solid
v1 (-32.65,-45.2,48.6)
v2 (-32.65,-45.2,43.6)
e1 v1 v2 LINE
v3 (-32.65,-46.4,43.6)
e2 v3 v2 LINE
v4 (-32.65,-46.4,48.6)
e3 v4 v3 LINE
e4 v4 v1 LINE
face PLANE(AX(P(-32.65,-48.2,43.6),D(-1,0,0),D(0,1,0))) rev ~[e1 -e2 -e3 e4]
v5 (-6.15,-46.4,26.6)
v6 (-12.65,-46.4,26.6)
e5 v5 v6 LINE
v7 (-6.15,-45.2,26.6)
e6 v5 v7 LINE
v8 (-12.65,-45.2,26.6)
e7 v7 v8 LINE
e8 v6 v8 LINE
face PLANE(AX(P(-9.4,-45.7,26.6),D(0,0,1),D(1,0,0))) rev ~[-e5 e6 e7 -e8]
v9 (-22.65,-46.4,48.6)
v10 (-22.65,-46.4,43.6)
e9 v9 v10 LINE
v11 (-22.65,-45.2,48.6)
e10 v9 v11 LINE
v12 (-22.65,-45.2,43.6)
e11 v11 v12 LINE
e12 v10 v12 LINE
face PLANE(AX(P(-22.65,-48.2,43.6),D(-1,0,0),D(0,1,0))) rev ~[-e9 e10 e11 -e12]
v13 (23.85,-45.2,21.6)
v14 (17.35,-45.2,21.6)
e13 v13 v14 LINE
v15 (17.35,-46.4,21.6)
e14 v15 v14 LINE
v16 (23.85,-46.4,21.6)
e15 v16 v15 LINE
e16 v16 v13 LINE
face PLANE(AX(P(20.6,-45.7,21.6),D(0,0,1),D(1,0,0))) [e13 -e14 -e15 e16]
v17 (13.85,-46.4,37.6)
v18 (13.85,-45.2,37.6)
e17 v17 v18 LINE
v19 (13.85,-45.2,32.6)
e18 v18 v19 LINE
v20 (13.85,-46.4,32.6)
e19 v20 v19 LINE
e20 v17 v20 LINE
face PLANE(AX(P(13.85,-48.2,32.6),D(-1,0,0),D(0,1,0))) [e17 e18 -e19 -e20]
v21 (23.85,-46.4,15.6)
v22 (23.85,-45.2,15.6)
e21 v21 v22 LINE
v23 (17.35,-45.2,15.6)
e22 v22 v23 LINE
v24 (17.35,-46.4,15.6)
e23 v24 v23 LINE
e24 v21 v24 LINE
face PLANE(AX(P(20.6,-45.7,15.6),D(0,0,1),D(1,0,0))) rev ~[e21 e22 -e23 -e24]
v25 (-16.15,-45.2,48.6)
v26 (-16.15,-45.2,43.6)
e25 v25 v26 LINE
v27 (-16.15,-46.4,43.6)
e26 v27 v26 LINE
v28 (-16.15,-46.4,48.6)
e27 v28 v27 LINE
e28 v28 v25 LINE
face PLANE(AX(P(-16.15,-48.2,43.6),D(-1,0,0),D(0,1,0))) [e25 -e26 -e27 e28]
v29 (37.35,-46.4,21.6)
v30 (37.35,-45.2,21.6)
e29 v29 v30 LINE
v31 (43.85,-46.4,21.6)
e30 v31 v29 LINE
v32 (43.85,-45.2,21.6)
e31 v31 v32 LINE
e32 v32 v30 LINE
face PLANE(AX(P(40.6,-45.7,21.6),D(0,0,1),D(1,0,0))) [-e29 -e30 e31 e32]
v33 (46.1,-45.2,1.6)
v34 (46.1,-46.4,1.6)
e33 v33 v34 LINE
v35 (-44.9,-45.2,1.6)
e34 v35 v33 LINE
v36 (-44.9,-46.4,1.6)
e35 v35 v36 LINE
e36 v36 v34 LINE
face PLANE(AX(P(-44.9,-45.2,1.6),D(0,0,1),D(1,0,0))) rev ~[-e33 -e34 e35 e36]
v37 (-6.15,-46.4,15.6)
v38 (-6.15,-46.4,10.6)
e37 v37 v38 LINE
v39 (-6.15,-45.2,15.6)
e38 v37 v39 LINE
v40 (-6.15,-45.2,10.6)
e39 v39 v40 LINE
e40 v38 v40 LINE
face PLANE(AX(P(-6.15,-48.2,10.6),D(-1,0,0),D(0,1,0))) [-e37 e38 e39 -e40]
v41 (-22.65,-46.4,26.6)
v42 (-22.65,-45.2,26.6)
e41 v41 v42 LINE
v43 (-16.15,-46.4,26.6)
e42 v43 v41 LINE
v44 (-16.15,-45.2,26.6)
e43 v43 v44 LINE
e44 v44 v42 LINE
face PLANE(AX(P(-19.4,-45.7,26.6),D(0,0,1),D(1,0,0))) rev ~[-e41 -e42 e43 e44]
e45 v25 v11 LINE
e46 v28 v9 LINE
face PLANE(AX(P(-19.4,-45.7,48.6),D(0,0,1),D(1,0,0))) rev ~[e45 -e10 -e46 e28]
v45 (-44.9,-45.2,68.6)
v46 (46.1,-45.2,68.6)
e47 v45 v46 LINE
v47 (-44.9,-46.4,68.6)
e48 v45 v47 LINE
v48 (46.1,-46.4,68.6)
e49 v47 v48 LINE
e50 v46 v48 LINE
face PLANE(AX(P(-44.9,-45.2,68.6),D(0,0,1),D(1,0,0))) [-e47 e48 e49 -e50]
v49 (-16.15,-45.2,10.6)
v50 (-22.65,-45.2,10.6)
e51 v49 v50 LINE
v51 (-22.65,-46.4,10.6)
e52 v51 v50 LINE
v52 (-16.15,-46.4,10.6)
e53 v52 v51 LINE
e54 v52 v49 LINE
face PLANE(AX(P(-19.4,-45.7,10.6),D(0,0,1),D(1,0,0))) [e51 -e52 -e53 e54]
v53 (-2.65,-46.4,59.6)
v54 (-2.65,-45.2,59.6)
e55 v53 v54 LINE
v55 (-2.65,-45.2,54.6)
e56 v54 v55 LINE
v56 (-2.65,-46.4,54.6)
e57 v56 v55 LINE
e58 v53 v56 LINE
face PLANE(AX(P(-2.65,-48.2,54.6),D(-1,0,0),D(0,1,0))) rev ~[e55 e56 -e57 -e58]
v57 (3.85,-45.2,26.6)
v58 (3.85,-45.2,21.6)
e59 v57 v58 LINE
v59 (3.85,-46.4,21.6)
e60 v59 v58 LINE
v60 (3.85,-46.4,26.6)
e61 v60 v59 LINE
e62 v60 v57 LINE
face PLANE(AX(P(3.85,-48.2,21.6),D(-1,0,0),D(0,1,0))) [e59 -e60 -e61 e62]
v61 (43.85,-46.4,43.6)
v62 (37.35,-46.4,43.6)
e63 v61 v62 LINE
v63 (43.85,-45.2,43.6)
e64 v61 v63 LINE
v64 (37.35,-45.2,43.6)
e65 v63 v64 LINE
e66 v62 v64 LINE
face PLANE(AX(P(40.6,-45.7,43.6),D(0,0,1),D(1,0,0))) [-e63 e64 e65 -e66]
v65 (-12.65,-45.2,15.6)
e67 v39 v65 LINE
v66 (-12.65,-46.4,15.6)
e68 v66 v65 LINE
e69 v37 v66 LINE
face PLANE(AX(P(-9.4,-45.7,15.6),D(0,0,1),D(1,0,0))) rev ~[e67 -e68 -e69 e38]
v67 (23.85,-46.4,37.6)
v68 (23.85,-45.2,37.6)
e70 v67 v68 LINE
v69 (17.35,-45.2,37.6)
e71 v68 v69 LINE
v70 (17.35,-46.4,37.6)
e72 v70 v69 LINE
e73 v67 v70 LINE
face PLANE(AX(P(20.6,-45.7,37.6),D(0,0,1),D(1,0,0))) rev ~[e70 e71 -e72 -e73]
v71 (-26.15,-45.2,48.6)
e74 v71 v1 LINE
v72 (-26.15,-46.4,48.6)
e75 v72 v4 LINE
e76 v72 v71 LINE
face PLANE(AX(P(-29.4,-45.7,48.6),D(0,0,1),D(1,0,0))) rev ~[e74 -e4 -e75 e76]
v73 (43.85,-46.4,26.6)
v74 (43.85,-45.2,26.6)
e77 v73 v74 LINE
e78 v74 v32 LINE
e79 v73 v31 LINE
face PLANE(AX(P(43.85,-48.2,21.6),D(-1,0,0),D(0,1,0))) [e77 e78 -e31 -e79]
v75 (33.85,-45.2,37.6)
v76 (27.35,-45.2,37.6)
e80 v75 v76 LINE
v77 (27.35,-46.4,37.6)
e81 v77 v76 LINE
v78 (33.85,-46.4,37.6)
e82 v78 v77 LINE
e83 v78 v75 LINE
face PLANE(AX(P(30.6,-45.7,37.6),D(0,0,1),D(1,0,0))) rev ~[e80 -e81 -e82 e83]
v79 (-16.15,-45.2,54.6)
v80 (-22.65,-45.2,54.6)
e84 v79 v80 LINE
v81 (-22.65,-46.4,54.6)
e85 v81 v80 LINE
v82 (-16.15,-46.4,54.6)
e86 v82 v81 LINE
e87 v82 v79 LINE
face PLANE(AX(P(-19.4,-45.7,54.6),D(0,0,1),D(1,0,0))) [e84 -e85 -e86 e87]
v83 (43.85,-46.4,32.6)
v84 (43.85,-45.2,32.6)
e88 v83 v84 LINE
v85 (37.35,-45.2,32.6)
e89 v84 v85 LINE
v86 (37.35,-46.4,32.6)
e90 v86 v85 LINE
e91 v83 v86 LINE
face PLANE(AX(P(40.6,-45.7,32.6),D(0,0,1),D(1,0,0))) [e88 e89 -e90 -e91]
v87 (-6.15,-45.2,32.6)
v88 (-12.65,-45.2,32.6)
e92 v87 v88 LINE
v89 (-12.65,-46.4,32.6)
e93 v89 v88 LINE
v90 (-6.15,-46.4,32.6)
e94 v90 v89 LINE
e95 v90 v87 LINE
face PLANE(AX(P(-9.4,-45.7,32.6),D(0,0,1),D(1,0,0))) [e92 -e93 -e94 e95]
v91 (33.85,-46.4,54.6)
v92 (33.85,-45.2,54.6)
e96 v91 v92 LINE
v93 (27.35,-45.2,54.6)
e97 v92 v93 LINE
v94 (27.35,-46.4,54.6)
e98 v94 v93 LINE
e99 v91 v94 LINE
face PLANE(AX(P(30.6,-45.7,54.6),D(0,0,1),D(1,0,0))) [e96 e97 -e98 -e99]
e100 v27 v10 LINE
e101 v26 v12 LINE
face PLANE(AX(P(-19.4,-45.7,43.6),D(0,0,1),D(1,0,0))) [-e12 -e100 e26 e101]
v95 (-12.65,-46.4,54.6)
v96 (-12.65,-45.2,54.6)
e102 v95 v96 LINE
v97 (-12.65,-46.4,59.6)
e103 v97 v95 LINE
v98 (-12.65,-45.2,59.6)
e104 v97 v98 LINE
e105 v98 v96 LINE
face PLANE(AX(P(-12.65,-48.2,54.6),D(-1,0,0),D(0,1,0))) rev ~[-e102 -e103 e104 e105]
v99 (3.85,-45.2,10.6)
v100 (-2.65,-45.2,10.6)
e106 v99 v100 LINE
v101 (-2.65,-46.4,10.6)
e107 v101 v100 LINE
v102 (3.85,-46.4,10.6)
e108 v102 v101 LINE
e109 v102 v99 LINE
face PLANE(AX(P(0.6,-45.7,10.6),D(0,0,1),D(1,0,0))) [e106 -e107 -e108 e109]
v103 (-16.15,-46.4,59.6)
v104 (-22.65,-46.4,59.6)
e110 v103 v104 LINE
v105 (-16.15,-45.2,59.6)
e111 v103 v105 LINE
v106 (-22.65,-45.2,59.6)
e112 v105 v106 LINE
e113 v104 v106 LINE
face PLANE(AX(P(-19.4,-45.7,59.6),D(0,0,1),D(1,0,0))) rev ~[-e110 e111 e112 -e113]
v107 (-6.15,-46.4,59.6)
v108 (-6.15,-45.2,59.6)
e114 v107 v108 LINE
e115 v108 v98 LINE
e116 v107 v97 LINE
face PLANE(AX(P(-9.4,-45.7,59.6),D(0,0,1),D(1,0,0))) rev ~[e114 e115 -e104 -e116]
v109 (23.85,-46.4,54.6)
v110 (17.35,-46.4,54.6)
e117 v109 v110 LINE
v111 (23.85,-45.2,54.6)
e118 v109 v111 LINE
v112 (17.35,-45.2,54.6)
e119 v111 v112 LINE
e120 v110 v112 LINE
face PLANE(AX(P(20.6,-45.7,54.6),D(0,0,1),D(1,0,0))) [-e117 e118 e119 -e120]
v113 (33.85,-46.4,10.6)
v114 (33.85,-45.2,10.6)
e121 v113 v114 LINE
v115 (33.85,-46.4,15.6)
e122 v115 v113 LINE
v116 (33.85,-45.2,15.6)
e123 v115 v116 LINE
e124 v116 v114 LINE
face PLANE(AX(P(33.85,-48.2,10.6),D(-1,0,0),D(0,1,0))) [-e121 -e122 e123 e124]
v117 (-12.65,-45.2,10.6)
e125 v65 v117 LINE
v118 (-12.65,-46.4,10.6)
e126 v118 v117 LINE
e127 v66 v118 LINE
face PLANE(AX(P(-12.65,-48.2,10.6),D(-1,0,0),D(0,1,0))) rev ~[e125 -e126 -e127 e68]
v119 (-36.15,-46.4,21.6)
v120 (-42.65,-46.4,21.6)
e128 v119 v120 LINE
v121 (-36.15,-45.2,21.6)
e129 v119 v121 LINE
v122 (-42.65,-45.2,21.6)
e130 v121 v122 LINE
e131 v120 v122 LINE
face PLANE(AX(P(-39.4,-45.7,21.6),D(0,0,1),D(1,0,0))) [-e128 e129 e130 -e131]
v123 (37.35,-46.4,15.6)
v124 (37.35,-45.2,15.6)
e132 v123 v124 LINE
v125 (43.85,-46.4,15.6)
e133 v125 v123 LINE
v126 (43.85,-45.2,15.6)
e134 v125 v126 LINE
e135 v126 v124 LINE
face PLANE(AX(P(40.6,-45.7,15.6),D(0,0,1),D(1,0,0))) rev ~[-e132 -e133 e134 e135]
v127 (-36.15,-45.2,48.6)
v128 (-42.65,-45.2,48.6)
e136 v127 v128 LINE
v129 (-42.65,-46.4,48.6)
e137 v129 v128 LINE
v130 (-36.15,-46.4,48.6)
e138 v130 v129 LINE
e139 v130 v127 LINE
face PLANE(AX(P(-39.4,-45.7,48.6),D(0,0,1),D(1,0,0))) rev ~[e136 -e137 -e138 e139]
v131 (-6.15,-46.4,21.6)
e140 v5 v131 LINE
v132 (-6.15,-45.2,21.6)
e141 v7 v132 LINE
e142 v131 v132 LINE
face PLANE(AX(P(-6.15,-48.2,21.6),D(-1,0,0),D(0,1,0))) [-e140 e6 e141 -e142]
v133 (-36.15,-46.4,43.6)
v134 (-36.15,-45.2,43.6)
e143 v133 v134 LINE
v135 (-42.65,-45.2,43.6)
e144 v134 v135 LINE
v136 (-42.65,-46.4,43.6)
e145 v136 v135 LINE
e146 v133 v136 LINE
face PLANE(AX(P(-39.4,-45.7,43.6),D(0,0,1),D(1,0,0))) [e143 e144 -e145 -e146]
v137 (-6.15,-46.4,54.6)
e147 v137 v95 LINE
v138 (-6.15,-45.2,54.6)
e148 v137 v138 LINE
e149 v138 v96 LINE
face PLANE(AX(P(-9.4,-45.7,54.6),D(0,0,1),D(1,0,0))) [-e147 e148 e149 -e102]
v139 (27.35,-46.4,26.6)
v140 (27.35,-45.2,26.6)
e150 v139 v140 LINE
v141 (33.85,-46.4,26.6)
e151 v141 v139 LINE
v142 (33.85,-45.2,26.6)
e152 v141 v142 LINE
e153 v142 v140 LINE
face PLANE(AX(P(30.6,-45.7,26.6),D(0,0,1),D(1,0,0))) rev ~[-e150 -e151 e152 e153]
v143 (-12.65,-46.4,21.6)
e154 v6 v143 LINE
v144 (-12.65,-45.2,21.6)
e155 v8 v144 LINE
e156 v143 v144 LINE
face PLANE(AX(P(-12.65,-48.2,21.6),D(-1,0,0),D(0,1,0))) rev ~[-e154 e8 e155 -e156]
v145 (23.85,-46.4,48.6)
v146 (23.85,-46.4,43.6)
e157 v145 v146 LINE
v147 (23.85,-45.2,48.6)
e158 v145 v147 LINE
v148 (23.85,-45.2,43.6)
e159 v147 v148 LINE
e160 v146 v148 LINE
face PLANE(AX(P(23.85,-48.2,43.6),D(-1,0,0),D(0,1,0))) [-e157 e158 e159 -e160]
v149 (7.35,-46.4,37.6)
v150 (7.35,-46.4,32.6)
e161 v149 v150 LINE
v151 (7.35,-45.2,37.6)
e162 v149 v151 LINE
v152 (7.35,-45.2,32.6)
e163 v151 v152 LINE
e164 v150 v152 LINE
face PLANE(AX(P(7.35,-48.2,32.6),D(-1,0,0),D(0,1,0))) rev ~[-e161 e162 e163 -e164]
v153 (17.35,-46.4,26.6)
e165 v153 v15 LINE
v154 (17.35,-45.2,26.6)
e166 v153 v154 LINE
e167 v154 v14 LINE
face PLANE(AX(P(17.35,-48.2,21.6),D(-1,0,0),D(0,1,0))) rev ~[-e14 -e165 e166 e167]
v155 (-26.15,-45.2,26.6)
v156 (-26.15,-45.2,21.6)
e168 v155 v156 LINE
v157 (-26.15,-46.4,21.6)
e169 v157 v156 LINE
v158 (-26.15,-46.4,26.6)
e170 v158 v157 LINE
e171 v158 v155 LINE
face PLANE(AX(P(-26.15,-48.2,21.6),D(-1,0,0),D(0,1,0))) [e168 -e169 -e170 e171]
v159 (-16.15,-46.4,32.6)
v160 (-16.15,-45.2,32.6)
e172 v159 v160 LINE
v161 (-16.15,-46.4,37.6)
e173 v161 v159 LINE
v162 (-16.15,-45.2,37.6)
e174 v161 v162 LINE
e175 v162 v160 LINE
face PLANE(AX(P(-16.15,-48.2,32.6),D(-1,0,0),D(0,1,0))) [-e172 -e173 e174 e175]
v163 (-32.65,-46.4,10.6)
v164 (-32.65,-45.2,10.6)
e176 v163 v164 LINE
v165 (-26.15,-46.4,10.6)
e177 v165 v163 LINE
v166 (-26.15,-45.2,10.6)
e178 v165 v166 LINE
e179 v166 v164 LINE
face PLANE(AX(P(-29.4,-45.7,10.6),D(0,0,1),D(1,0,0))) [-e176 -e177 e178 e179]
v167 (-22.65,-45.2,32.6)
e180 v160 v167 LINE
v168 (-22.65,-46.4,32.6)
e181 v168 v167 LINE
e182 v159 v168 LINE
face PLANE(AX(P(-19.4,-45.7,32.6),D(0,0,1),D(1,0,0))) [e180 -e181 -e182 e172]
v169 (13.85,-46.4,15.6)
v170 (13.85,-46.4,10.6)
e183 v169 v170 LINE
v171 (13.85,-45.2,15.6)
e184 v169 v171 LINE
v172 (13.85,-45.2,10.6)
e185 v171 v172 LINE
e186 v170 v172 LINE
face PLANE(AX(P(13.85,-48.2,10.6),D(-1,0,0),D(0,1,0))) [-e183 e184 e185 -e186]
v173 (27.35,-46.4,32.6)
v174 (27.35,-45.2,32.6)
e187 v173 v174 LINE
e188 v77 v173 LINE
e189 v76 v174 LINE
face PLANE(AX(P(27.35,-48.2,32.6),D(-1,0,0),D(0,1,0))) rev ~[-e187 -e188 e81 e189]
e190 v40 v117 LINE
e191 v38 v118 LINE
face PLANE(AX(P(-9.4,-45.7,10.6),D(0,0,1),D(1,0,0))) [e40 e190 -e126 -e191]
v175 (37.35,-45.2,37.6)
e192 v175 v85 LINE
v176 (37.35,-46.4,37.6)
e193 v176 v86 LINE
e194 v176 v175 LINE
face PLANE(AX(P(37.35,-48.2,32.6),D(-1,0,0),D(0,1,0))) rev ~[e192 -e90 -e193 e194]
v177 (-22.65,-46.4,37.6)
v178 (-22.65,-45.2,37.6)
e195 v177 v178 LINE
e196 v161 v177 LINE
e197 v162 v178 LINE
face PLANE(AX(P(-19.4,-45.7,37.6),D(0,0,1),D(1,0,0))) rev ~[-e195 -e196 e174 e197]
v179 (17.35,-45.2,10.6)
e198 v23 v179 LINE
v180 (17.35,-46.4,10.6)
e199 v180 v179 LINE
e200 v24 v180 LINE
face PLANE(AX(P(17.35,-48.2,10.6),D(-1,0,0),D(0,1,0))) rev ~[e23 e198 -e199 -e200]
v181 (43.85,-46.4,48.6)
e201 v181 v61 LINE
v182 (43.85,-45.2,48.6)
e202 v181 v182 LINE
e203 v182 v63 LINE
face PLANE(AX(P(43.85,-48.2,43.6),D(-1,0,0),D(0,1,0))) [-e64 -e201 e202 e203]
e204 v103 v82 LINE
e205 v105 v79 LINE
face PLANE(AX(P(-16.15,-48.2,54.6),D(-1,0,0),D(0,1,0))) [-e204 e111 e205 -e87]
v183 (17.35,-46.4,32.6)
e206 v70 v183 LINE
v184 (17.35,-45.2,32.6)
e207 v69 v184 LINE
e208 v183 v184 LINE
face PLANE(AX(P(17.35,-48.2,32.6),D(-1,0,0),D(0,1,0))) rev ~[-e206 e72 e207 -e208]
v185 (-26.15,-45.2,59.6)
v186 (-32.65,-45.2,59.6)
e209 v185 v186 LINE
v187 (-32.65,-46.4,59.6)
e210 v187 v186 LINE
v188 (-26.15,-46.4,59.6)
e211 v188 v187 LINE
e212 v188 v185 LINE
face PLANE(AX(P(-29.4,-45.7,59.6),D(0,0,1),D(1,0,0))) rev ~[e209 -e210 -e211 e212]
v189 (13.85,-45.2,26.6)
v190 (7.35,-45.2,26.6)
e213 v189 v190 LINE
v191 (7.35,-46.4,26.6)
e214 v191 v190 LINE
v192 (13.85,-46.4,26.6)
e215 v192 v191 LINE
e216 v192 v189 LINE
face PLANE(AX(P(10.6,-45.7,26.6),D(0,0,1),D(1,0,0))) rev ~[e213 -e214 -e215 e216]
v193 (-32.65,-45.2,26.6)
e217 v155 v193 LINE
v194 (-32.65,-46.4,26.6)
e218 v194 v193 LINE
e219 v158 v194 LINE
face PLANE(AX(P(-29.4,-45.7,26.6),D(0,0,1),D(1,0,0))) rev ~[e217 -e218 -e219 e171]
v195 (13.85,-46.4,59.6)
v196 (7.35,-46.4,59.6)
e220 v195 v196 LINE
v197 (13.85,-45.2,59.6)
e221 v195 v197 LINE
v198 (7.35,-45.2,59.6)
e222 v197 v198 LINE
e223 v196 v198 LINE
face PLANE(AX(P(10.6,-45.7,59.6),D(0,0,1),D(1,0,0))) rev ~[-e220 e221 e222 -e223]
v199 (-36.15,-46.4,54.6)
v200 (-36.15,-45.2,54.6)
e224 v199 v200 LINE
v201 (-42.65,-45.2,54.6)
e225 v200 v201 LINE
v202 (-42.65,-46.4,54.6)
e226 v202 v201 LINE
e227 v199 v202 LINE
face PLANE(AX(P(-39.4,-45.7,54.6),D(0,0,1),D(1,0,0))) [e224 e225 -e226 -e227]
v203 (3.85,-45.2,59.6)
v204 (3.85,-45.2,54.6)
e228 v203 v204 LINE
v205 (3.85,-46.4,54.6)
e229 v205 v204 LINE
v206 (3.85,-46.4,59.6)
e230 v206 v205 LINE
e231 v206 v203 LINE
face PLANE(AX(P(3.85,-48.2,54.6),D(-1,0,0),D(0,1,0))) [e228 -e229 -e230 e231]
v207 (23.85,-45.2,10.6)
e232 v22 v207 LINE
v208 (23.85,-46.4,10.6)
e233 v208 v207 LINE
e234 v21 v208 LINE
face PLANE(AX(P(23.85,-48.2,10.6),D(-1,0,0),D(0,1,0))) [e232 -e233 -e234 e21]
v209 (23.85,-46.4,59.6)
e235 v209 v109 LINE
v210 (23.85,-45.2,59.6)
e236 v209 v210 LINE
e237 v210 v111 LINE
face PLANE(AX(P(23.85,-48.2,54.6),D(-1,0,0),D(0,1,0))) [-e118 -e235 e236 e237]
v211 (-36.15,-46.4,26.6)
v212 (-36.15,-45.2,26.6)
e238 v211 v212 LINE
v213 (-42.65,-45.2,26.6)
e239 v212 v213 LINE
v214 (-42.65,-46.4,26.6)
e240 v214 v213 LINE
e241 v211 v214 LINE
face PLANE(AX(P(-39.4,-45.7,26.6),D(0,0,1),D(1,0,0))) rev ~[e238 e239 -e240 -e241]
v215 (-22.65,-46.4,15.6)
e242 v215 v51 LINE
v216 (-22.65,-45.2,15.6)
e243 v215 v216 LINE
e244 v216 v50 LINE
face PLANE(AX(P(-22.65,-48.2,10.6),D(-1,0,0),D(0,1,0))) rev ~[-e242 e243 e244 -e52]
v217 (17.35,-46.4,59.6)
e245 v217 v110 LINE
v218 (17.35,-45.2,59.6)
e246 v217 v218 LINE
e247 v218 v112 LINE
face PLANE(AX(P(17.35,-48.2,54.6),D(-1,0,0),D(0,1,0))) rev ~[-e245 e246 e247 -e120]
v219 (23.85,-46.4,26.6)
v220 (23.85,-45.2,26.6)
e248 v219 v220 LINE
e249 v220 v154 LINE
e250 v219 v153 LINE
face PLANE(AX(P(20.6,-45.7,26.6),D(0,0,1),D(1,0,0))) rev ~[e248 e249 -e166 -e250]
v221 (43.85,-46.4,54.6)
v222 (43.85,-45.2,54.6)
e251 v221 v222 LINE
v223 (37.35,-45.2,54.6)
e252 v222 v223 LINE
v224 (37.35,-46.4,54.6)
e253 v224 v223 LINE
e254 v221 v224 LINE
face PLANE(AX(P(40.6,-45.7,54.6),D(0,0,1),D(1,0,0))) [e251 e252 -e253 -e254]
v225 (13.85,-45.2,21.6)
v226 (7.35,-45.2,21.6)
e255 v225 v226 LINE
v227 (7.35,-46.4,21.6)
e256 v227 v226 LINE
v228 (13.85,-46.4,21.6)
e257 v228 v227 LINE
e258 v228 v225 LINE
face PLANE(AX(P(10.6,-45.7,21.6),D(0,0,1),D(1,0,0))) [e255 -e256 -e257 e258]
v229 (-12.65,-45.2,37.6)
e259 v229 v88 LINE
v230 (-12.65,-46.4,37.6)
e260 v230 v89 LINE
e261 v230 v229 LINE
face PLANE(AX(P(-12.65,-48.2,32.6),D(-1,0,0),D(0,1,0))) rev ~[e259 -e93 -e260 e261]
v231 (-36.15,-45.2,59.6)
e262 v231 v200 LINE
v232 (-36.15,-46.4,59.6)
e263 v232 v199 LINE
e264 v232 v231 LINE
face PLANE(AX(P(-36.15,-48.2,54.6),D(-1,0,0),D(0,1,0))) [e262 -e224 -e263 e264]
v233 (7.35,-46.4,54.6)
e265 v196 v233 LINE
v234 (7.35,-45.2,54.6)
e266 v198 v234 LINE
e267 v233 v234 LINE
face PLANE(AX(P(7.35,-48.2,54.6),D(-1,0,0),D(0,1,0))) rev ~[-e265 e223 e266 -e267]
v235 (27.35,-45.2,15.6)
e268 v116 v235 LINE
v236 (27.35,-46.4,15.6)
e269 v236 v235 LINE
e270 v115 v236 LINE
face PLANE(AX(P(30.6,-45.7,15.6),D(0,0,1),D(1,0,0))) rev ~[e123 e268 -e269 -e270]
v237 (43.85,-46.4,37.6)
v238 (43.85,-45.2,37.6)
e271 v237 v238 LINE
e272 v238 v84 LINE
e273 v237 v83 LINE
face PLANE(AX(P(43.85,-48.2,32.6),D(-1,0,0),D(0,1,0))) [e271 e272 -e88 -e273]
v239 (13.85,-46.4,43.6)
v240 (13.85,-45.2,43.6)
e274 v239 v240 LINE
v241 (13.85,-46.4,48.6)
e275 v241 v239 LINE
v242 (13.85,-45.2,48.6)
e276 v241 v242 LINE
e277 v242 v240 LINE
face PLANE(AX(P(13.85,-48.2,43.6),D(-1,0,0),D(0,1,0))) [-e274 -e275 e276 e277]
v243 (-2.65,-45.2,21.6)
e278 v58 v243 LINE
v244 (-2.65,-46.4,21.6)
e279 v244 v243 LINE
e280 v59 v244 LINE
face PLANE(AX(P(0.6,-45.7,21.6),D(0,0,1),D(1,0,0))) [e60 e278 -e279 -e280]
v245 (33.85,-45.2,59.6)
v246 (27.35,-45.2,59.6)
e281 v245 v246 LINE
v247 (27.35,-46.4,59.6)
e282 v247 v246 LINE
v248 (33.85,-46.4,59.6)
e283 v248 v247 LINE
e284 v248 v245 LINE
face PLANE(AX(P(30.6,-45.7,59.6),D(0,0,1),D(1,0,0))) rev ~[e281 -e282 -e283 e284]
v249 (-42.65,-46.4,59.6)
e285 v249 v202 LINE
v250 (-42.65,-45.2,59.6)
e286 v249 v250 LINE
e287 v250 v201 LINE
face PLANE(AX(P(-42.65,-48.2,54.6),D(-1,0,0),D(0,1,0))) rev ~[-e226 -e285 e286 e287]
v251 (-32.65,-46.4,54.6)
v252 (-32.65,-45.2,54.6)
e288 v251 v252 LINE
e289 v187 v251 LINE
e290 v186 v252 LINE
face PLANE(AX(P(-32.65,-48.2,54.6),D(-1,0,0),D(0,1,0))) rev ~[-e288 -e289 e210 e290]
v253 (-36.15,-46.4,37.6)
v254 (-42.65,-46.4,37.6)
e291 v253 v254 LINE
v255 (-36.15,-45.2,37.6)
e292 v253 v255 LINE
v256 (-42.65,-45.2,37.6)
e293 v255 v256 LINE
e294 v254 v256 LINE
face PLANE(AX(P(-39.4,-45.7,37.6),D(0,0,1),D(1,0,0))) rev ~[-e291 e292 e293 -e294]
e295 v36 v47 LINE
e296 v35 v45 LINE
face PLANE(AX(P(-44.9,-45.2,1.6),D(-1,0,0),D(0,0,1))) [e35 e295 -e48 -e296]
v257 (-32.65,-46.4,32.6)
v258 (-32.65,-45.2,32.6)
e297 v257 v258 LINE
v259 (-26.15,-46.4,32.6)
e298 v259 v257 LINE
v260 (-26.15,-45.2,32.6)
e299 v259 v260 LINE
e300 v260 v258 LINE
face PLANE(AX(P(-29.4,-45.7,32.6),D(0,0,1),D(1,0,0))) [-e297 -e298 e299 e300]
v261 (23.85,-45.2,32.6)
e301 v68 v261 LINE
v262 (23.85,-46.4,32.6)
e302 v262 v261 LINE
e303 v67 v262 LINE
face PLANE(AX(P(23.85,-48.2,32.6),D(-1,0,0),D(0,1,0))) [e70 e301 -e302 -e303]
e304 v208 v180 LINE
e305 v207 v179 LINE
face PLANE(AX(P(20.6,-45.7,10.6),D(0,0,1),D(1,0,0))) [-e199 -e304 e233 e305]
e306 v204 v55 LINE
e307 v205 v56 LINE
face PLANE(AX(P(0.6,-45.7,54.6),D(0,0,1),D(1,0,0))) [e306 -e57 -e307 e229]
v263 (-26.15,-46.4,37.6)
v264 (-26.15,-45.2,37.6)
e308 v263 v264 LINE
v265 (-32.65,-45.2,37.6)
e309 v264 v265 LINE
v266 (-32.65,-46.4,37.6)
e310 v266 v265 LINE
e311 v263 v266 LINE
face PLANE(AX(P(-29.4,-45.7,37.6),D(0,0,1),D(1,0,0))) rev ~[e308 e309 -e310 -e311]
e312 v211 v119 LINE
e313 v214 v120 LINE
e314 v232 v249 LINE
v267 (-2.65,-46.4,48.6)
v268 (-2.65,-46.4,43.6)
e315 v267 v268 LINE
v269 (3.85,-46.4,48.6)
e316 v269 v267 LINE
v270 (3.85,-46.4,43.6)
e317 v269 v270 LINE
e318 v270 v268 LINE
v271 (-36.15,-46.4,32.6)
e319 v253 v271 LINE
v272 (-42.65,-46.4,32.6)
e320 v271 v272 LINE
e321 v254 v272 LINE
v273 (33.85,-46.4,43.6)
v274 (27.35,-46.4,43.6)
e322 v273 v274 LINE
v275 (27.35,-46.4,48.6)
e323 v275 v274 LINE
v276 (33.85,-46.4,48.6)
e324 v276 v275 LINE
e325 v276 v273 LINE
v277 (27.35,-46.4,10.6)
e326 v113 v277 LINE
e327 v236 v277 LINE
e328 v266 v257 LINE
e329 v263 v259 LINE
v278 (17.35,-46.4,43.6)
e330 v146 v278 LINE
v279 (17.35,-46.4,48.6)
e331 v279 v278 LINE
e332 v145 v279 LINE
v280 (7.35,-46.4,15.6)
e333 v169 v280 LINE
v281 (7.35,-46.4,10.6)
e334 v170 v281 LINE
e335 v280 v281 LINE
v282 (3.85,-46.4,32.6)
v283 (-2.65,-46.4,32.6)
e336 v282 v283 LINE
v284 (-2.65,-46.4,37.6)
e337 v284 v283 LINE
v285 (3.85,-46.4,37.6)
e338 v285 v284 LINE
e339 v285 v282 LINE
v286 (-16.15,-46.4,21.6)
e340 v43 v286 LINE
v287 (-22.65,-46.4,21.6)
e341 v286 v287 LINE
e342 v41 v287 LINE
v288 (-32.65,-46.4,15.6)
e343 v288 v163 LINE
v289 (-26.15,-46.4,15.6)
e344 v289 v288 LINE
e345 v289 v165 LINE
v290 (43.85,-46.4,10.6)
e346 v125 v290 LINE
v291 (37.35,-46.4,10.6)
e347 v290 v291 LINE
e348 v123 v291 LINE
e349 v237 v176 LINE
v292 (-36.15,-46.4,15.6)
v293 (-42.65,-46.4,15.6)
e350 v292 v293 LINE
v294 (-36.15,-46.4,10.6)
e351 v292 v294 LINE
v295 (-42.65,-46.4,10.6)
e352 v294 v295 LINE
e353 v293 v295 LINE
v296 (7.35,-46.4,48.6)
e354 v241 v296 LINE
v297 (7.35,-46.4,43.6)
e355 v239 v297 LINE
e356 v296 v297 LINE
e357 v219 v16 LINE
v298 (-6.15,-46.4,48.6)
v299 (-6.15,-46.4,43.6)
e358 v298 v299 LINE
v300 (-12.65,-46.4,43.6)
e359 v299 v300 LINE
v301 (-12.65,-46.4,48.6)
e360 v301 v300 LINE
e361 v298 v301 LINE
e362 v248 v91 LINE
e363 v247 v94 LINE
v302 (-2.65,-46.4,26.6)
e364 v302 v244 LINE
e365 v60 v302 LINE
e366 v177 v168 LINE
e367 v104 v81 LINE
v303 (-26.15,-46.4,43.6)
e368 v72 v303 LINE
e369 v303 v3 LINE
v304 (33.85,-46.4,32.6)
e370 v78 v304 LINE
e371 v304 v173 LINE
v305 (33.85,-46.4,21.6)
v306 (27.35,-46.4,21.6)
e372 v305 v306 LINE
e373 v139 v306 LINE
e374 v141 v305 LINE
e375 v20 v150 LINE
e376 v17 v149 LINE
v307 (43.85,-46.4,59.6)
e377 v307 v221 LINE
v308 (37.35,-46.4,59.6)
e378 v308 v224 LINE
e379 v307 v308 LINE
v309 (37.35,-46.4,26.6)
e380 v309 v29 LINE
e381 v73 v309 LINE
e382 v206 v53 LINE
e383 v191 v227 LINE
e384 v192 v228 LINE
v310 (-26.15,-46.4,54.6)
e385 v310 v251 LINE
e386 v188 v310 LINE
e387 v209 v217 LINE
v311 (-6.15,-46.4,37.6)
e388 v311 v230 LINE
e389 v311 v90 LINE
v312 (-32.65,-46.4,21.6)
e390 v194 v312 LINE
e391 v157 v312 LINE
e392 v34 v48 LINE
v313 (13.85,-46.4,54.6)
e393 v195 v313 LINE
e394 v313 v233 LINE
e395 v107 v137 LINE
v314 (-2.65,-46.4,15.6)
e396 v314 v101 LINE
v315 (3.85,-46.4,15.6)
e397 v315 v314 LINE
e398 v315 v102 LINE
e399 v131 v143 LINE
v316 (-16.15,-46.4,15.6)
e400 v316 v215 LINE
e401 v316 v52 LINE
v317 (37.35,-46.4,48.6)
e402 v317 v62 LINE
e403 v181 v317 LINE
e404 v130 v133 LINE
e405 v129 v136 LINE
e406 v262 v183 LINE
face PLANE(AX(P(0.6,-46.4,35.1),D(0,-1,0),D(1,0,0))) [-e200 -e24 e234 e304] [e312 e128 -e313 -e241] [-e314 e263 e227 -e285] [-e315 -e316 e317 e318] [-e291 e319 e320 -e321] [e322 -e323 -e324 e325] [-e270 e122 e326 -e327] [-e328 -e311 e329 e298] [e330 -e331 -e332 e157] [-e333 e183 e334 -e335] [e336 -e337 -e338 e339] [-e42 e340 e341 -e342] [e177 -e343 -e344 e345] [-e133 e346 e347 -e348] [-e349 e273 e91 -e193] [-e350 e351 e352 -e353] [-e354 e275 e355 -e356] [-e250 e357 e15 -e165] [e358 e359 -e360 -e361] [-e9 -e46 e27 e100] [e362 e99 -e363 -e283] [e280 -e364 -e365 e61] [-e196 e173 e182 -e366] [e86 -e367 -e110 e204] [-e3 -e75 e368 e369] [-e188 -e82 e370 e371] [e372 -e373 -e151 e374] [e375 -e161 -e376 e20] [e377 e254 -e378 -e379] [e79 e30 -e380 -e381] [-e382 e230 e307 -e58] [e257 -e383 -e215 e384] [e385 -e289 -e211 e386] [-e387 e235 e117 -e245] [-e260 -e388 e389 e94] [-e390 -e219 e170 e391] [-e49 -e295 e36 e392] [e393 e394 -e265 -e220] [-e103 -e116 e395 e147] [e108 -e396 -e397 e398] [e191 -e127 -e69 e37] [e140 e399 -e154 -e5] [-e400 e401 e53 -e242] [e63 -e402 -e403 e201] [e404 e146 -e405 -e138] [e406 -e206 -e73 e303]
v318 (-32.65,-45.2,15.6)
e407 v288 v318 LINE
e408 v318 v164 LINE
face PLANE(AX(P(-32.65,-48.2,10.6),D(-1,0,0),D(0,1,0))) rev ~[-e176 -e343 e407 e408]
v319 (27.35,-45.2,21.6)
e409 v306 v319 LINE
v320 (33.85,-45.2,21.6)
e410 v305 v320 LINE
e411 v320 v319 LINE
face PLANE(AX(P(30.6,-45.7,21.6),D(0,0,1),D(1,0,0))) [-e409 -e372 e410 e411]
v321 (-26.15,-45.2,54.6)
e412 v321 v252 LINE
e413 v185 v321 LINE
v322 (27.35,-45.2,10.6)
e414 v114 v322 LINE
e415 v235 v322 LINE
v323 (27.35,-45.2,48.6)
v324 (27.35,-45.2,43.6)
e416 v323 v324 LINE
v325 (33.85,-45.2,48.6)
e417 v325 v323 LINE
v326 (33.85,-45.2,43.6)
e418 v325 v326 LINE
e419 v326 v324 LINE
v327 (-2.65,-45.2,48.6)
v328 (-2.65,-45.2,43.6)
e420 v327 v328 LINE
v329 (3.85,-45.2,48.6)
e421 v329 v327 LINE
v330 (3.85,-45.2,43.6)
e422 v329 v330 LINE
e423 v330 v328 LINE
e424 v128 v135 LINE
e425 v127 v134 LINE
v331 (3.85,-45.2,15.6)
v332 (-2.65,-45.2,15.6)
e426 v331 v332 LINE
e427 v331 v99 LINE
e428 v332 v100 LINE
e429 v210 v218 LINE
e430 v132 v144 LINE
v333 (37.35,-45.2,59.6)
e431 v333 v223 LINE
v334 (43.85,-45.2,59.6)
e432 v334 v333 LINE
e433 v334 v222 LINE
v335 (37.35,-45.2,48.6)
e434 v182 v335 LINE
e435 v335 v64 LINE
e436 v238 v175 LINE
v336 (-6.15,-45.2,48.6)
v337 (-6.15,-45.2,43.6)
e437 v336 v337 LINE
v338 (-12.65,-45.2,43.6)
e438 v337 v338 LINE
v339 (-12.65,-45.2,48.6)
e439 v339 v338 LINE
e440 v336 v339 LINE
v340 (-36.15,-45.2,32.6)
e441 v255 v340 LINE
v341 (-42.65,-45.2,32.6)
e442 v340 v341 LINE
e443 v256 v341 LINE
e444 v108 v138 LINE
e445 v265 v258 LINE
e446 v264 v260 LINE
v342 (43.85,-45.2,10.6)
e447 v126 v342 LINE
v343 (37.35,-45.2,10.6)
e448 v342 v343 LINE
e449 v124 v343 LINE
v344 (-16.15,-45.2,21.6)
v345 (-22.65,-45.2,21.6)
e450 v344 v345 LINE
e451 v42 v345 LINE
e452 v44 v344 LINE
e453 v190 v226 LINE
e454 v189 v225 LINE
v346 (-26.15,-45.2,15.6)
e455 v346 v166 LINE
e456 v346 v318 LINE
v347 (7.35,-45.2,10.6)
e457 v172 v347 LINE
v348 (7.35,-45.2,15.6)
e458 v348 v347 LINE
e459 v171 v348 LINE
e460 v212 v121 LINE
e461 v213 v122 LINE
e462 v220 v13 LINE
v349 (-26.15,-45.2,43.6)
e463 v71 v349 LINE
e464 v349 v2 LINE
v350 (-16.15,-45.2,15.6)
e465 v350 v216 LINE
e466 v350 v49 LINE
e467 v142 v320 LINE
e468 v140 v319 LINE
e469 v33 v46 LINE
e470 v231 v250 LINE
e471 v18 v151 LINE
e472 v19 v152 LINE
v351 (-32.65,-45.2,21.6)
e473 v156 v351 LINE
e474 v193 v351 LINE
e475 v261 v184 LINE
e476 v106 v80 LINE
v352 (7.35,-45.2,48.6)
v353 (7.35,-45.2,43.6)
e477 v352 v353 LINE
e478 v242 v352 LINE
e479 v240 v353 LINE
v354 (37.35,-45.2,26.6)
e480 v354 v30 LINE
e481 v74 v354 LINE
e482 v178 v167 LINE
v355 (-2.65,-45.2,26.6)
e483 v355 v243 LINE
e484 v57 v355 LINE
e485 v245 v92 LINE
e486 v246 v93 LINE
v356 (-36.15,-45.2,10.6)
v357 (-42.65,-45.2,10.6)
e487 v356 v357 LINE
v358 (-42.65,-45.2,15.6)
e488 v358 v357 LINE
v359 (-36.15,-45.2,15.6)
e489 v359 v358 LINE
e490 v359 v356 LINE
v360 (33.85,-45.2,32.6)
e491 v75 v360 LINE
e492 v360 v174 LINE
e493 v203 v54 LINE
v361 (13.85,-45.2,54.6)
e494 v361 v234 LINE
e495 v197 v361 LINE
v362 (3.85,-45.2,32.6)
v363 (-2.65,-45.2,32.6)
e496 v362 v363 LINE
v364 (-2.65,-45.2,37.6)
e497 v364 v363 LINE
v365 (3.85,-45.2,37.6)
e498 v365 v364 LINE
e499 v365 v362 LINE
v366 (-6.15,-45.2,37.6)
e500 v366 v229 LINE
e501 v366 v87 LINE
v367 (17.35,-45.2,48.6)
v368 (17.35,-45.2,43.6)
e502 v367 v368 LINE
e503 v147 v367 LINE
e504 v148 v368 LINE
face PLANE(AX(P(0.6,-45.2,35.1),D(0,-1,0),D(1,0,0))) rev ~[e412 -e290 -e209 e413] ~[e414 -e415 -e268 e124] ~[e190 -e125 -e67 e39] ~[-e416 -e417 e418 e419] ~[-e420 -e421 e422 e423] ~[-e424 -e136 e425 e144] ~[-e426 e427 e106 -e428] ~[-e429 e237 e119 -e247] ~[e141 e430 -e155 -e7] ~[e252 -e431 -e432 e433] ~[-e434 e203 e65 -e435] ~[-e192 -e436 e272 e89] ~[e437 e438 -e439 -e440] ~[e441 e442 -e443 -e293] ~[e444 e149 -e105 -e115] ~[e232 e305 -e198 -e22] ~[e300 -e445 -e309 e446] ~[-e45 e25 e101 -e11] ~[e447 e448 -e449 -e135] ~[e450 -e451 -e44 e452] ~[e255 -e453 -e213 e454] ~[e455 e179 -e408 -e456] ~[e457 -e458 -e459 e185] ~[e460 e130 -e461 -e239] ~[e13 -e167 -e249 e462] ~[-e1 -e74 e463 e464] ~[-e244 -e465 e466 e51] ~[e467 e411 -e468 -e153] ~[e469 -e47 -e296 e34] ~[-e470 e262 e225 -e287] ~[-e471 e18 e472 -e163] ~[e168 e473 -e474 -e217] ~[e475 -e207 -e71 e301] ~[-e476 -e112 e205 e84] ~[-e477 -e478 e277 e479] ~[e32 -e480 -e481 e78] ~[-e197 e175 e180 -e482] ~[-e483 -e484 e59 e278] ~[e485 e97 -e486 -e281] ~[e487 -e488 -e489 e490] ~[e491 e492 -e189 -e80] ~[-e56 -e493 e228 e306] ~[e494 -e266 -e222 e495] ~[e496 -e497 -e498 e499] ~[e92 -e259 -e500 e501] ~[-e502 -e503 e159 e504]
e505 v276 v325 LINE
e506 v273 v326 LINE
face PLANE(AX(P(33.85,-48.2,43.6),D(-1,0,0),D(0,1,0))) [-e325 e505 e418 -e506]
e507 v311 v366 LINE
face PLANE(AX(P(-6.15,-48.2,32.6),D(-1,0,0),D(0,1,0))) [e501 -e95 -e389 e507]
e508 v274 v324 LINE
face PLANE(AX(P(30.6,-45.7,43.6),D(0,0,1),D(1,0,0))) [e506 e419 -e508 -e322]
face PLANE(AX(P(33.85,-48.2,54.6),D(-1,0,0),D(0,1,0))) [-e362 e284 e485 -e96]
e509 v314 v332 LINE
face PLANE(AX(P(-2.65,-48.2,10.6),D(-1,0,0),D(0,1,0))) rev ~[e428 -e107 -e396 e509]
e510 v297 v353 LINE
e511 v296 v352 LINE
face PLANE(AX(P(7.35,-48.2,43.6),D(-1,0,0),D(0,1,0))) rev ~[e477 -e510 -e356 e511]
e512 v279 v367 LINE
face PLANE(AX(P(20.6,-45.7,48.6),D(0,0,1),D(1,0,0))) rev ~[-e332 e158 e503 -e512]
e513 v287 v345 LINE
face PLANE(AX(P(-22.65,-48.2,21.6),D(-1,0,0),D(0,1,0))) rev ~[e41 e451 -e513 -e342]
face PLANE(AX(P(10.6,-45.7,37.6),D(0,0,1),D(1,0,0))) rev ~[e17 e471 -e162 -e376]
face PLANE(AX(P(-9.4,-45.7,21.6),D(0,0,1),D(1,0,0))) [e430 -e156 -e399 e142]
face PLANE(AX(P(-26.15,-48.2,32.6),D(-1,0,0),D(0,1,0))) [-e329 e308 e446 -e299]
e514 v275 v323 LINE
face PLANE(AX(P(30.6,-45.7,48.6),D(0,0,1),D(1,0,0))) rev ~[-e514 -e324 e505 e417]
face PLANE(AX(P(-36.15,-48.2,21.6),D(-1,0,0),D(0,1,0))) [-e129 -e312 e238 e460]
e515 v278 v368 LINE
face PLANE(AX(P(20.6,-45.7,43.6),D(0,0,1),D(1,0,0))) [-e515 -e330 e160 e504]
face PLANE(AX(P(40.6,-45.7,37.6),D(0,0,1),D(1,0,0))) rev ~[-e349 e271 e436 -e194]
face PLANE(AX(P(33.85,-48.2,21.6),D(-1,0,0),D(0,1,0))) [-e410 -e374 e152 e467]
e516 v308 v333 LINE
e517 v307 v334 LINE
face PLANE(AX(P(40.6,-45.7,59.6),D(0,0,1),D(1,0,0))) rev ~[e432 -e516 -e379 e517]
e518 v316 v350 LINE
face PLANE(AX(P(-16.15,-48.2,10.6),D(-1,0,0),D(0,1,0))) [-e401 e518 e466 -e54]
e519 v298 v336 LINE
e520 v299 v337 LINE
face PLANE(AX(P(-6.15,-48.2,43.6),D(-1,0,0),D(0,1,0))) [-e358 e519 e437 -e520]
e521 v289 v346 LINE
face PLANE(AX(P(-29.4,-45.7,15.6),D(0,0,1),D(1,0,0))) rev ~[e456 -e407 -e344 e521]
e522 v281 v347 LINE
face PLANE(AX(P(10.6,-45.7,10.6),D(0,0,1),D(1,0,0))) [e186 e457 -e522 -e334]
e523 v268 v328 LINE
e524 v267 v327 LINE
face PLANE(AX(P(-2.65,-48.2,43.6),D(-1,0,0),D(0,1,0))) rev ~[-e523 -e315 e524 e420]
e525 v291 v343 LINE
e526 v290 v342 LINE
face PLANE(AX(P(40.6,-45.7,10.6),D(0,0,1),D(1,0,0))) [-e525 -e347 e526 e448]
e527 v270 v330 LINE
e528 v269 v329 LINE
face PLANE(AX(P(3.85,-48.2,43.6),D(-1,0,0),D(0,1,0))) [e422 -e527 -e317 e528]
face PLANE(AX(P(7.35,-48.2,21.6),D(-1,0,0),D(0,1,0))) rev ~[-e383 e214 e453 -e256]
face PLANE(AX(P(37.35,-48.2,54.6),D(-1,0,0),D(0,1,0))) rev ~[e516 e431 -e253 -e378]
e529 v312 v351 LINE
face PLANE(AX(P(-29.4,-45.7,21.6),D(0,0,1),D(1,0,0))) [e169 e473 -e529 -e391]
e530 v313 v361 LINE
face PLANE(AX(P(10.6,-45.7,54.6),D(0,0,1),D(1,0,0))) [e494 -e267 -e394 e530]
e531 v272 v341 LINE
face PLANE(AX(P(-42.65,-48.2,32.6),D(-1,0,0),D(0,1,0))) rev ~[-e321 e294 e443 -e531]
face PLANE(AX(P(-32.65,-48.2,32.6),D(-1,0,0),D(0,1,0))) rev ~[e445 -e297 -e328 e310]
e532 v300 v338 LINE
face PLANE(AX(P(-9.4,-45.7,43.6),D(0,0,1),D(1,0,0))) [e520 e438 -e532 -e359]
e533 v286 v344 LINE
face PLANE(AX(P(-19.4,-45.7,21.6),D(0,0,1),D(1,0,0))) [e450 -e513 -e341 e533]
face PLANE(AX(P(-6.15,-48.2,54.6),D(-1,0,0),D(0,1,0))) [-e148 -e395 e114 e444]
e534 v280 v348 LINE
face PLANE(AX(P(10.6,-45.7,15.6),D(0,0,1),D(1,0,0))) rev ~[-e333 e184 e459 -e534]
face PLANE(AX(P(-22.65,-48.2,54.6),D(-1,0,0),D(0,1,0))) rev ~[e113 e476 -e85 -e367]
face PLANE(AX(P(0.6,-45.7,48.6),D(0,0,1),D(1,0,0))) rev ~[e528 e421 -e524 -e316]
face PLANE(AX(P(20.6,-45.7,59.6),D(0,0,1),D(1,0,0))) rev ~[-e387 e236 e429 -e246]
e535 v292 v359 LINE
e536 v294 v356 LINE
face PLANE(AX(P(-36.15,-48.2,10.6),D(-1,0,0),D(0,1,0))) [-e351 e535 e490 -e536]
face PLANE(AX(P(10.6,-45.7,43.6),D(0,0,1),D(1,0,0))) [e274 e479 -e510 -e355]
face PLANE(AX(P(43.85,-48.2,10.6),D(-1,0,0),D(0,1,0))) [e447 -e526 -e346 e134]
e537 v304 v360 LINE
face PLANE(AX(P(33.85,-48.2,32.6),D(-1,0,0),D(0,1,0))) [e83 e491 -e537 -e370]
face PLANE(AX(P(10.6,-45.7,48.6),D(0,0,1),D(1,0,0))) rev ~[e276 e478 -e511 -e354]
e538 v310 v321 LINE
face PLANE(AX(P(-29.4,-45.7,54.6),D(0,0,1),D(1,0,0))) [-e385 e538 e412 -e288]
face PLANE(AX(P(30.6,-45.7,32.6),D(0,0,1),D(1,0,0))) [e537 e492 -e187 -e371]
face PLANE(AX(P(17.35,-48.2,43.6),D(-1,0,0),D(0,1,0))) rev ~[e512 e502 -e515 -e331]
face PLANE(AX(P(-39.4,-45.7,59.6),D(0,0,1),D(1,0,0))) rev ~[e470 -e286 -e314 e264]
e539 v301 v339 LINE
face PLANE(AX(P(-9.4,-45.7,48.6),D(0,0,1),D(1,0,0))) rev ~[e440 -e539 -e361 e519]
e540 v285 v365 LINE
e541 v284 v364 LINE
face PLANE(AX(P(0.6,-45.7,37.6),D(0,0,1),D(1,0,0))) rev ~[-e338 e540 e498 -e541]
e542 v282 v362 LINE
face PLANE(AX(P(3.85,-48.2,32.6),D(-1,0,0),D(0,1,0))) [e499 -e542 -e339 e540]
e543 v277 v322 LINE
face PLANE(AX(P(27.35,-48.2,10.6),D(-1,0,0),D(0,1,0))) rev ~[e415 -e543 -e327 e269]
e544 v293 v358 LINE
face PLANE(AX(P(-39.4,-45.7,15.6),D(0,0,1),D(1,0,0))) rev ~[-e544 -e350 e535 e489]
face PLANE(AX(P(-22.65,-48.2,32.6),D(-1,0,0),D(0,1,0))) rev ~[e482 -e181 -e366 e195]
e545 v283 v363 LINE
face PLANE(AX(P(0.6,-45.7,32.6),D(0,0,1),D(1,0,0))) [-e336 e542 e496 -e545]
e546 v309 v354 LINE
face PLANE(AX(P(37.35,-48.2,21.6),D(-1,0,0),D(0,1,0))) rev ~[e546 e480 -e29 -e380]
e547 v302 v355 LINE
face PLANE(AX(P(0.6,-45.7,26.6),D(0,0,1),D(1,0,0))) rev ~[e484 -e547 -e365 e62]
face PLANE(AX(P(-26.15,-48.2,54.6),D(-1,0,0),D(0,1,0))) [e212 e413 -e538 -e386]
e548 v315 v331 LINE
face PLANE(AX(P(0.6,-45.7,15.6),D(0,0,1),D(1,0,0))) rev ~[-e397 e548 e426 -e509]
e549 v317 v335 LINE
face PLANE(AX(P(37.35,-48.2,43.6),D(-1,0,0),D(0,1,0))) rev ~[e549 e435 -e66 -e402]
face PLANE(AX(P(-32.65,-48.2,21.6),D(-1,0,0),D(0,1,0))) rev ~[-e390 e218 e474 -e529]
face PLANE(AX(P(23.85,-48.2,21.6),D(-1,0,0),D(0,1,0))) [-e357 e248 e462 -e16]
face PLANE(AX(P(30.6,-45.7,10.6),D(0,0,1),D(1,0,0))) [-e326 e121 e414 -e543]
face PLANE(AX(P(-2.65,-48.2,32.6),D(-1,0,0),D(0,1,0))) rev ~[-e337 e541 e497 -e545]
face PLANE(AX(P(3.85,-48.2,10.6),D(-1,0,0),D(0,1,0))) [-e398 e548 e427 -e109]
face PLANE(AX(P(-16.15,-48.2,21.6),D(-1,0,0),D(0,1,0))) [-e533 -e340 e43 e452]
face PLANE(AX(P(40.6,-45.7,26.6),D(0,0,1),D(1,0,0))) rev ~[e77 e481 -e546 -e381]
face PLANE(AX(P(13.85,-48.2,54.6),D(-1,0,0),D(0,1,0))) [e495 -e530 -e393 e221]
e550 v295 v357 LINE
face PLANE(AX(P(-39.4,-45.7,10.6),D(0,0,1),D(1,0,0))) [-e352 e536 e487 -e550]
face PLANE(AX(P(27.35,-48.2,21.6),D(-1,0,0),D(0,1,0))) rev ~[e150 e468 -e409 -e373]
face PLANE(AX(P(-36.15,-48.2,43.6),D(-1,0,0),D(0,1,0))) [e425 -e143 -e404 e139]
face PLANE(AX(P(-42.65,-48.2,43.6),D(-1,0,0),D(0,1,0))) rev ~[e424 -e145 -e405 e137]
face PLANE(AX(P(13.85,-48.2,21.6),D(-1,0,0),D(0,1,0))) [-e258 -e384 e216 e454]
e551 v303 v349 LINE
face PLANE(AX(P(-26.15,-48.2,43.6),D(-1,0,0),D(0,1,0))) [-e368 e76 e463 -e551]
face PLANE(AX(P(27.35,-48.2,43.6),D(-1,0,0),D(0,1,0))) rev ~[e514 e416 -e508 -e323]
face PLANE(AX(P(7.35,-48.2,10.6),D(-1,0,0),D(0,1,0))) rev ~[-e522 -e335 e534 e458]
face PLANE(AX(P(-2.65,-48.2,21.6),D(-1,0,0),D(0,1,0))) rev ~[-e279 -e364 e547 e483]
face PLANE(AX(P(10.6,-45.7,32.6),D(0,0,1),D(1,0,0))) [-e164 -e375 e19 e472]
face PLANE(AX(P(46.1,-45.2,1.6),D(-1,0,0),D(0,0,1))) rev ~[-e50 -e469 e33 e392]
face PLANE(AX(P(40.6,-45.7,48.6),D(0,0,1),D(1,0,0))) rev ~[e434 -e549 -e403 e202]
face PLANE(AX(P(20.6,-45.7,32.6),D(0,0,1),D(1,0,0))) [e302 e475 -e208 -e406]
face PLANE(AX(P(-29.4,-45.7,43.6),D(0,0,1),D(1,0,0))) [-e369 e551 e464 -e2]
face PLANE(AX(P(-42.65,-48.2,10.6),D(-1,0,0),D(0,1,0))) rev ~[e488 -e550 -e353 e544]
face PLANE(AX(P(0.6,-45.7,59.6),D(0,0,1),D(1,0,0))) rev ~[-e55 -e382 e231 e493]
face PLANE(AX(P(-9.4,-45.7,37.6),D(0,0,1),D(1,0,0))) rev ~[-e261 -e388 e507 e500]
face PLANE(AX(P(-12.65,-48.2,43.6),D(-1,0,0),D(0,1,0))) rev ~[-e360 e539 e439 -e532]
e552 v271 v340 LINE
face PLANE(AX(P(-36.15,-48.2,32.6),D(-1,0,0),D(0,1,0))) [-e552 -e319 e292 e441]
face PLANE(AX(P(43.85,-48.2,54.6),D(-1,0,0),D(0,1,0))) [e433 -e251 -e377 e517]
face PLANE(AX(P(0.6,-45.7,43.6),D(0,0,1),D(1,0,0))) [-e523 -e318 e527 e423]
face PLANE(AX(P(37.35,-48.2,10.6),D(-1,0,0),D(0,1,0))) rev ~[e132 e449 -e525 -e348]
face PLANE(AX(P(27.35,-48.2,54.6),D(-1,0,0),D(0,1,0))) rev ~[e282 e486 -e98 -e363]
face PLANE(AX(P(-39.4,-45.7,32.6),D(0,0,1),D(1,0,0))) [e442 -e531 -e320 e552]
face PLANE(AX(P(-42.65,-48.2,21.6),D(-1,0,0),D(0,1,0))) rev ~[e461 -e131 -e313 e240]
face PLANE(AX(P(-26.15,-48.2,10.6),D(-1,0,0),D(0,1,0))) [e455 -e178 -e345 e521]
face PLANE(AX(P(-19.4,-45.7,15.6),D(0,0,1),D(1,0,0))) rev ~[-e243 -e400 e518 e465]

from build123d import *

# Parameters (mm, degrees)
BOX007_W         = 6.5
BOX007_H         = 5
BOX007_DEPTH     = 5
ARRAY001_X_COUNT = 9
ARRAY001_X_PITCH = 10
ARRAY001_Z_COUNT = 5
ARRAY001_Z_PITCH = 11
BOX006_W         = 91
BOX006_H         = 67
BOX006_DEPTH     = 1.2


with BuildPart() as array001:
    # Box007 → Box007 (new body)
    with BuildSketch(Plane(origin=(-43, -3, 11), x_dir=(1, 0, 0), z_dir=(0, 0, 1))):
        with Locations((3.25, 2.5)):
            Rectangle(BOX007_W, BOX007_H)
    extrude(amount=BOX007_DEPTH)

    # Array001 X: Array001 ×9


with BuildPart() as array001_1:
    add(array001.part)
    with Locations(*[(i * ARRAY001_X_PITCH, 0, 0) for i in range(1, ARRAY001_X_COUNT)]):
        add(array001.part)

    # Array001 Z: Array001 ×5


with BuildPart() as array001_2:
    add(array001_1.part)
    with Locations(*[(0, 0, i * ARRAY001_Z_PITCH) for i in range(1, ARRAY001_Z_COUNT)]):
        add(array001_1.part)


with BuildPart() as array001_3:
    # Array001 placement: moved
    add(array001_2.part.moved(Location((0.35, 0, -0.4))))


with BuildPart() as rejilla:
    # Box006 → Box006 (new body)
    with BuildSketch(Plane(origin=(-44.9, 0, 1.6), x_dir=(1, 0, 0), z_dir=(0, -1, 0))):
        with Locations((45.5, 33.5)):
            Rectangle(BOX006_W, BOX006_H)
    extrude(amount=BOX006_DEPTH)

    # Cut003: cut Array001
    add(array001_3.part, mode=Mode.SUBTRACT)


with BuildPart() as rejilla_1:
    # Cut003 placement: moved
    add(rejilla.part.moved(Location((0, -45.2, 0))))


solid = rejilla_1.part
